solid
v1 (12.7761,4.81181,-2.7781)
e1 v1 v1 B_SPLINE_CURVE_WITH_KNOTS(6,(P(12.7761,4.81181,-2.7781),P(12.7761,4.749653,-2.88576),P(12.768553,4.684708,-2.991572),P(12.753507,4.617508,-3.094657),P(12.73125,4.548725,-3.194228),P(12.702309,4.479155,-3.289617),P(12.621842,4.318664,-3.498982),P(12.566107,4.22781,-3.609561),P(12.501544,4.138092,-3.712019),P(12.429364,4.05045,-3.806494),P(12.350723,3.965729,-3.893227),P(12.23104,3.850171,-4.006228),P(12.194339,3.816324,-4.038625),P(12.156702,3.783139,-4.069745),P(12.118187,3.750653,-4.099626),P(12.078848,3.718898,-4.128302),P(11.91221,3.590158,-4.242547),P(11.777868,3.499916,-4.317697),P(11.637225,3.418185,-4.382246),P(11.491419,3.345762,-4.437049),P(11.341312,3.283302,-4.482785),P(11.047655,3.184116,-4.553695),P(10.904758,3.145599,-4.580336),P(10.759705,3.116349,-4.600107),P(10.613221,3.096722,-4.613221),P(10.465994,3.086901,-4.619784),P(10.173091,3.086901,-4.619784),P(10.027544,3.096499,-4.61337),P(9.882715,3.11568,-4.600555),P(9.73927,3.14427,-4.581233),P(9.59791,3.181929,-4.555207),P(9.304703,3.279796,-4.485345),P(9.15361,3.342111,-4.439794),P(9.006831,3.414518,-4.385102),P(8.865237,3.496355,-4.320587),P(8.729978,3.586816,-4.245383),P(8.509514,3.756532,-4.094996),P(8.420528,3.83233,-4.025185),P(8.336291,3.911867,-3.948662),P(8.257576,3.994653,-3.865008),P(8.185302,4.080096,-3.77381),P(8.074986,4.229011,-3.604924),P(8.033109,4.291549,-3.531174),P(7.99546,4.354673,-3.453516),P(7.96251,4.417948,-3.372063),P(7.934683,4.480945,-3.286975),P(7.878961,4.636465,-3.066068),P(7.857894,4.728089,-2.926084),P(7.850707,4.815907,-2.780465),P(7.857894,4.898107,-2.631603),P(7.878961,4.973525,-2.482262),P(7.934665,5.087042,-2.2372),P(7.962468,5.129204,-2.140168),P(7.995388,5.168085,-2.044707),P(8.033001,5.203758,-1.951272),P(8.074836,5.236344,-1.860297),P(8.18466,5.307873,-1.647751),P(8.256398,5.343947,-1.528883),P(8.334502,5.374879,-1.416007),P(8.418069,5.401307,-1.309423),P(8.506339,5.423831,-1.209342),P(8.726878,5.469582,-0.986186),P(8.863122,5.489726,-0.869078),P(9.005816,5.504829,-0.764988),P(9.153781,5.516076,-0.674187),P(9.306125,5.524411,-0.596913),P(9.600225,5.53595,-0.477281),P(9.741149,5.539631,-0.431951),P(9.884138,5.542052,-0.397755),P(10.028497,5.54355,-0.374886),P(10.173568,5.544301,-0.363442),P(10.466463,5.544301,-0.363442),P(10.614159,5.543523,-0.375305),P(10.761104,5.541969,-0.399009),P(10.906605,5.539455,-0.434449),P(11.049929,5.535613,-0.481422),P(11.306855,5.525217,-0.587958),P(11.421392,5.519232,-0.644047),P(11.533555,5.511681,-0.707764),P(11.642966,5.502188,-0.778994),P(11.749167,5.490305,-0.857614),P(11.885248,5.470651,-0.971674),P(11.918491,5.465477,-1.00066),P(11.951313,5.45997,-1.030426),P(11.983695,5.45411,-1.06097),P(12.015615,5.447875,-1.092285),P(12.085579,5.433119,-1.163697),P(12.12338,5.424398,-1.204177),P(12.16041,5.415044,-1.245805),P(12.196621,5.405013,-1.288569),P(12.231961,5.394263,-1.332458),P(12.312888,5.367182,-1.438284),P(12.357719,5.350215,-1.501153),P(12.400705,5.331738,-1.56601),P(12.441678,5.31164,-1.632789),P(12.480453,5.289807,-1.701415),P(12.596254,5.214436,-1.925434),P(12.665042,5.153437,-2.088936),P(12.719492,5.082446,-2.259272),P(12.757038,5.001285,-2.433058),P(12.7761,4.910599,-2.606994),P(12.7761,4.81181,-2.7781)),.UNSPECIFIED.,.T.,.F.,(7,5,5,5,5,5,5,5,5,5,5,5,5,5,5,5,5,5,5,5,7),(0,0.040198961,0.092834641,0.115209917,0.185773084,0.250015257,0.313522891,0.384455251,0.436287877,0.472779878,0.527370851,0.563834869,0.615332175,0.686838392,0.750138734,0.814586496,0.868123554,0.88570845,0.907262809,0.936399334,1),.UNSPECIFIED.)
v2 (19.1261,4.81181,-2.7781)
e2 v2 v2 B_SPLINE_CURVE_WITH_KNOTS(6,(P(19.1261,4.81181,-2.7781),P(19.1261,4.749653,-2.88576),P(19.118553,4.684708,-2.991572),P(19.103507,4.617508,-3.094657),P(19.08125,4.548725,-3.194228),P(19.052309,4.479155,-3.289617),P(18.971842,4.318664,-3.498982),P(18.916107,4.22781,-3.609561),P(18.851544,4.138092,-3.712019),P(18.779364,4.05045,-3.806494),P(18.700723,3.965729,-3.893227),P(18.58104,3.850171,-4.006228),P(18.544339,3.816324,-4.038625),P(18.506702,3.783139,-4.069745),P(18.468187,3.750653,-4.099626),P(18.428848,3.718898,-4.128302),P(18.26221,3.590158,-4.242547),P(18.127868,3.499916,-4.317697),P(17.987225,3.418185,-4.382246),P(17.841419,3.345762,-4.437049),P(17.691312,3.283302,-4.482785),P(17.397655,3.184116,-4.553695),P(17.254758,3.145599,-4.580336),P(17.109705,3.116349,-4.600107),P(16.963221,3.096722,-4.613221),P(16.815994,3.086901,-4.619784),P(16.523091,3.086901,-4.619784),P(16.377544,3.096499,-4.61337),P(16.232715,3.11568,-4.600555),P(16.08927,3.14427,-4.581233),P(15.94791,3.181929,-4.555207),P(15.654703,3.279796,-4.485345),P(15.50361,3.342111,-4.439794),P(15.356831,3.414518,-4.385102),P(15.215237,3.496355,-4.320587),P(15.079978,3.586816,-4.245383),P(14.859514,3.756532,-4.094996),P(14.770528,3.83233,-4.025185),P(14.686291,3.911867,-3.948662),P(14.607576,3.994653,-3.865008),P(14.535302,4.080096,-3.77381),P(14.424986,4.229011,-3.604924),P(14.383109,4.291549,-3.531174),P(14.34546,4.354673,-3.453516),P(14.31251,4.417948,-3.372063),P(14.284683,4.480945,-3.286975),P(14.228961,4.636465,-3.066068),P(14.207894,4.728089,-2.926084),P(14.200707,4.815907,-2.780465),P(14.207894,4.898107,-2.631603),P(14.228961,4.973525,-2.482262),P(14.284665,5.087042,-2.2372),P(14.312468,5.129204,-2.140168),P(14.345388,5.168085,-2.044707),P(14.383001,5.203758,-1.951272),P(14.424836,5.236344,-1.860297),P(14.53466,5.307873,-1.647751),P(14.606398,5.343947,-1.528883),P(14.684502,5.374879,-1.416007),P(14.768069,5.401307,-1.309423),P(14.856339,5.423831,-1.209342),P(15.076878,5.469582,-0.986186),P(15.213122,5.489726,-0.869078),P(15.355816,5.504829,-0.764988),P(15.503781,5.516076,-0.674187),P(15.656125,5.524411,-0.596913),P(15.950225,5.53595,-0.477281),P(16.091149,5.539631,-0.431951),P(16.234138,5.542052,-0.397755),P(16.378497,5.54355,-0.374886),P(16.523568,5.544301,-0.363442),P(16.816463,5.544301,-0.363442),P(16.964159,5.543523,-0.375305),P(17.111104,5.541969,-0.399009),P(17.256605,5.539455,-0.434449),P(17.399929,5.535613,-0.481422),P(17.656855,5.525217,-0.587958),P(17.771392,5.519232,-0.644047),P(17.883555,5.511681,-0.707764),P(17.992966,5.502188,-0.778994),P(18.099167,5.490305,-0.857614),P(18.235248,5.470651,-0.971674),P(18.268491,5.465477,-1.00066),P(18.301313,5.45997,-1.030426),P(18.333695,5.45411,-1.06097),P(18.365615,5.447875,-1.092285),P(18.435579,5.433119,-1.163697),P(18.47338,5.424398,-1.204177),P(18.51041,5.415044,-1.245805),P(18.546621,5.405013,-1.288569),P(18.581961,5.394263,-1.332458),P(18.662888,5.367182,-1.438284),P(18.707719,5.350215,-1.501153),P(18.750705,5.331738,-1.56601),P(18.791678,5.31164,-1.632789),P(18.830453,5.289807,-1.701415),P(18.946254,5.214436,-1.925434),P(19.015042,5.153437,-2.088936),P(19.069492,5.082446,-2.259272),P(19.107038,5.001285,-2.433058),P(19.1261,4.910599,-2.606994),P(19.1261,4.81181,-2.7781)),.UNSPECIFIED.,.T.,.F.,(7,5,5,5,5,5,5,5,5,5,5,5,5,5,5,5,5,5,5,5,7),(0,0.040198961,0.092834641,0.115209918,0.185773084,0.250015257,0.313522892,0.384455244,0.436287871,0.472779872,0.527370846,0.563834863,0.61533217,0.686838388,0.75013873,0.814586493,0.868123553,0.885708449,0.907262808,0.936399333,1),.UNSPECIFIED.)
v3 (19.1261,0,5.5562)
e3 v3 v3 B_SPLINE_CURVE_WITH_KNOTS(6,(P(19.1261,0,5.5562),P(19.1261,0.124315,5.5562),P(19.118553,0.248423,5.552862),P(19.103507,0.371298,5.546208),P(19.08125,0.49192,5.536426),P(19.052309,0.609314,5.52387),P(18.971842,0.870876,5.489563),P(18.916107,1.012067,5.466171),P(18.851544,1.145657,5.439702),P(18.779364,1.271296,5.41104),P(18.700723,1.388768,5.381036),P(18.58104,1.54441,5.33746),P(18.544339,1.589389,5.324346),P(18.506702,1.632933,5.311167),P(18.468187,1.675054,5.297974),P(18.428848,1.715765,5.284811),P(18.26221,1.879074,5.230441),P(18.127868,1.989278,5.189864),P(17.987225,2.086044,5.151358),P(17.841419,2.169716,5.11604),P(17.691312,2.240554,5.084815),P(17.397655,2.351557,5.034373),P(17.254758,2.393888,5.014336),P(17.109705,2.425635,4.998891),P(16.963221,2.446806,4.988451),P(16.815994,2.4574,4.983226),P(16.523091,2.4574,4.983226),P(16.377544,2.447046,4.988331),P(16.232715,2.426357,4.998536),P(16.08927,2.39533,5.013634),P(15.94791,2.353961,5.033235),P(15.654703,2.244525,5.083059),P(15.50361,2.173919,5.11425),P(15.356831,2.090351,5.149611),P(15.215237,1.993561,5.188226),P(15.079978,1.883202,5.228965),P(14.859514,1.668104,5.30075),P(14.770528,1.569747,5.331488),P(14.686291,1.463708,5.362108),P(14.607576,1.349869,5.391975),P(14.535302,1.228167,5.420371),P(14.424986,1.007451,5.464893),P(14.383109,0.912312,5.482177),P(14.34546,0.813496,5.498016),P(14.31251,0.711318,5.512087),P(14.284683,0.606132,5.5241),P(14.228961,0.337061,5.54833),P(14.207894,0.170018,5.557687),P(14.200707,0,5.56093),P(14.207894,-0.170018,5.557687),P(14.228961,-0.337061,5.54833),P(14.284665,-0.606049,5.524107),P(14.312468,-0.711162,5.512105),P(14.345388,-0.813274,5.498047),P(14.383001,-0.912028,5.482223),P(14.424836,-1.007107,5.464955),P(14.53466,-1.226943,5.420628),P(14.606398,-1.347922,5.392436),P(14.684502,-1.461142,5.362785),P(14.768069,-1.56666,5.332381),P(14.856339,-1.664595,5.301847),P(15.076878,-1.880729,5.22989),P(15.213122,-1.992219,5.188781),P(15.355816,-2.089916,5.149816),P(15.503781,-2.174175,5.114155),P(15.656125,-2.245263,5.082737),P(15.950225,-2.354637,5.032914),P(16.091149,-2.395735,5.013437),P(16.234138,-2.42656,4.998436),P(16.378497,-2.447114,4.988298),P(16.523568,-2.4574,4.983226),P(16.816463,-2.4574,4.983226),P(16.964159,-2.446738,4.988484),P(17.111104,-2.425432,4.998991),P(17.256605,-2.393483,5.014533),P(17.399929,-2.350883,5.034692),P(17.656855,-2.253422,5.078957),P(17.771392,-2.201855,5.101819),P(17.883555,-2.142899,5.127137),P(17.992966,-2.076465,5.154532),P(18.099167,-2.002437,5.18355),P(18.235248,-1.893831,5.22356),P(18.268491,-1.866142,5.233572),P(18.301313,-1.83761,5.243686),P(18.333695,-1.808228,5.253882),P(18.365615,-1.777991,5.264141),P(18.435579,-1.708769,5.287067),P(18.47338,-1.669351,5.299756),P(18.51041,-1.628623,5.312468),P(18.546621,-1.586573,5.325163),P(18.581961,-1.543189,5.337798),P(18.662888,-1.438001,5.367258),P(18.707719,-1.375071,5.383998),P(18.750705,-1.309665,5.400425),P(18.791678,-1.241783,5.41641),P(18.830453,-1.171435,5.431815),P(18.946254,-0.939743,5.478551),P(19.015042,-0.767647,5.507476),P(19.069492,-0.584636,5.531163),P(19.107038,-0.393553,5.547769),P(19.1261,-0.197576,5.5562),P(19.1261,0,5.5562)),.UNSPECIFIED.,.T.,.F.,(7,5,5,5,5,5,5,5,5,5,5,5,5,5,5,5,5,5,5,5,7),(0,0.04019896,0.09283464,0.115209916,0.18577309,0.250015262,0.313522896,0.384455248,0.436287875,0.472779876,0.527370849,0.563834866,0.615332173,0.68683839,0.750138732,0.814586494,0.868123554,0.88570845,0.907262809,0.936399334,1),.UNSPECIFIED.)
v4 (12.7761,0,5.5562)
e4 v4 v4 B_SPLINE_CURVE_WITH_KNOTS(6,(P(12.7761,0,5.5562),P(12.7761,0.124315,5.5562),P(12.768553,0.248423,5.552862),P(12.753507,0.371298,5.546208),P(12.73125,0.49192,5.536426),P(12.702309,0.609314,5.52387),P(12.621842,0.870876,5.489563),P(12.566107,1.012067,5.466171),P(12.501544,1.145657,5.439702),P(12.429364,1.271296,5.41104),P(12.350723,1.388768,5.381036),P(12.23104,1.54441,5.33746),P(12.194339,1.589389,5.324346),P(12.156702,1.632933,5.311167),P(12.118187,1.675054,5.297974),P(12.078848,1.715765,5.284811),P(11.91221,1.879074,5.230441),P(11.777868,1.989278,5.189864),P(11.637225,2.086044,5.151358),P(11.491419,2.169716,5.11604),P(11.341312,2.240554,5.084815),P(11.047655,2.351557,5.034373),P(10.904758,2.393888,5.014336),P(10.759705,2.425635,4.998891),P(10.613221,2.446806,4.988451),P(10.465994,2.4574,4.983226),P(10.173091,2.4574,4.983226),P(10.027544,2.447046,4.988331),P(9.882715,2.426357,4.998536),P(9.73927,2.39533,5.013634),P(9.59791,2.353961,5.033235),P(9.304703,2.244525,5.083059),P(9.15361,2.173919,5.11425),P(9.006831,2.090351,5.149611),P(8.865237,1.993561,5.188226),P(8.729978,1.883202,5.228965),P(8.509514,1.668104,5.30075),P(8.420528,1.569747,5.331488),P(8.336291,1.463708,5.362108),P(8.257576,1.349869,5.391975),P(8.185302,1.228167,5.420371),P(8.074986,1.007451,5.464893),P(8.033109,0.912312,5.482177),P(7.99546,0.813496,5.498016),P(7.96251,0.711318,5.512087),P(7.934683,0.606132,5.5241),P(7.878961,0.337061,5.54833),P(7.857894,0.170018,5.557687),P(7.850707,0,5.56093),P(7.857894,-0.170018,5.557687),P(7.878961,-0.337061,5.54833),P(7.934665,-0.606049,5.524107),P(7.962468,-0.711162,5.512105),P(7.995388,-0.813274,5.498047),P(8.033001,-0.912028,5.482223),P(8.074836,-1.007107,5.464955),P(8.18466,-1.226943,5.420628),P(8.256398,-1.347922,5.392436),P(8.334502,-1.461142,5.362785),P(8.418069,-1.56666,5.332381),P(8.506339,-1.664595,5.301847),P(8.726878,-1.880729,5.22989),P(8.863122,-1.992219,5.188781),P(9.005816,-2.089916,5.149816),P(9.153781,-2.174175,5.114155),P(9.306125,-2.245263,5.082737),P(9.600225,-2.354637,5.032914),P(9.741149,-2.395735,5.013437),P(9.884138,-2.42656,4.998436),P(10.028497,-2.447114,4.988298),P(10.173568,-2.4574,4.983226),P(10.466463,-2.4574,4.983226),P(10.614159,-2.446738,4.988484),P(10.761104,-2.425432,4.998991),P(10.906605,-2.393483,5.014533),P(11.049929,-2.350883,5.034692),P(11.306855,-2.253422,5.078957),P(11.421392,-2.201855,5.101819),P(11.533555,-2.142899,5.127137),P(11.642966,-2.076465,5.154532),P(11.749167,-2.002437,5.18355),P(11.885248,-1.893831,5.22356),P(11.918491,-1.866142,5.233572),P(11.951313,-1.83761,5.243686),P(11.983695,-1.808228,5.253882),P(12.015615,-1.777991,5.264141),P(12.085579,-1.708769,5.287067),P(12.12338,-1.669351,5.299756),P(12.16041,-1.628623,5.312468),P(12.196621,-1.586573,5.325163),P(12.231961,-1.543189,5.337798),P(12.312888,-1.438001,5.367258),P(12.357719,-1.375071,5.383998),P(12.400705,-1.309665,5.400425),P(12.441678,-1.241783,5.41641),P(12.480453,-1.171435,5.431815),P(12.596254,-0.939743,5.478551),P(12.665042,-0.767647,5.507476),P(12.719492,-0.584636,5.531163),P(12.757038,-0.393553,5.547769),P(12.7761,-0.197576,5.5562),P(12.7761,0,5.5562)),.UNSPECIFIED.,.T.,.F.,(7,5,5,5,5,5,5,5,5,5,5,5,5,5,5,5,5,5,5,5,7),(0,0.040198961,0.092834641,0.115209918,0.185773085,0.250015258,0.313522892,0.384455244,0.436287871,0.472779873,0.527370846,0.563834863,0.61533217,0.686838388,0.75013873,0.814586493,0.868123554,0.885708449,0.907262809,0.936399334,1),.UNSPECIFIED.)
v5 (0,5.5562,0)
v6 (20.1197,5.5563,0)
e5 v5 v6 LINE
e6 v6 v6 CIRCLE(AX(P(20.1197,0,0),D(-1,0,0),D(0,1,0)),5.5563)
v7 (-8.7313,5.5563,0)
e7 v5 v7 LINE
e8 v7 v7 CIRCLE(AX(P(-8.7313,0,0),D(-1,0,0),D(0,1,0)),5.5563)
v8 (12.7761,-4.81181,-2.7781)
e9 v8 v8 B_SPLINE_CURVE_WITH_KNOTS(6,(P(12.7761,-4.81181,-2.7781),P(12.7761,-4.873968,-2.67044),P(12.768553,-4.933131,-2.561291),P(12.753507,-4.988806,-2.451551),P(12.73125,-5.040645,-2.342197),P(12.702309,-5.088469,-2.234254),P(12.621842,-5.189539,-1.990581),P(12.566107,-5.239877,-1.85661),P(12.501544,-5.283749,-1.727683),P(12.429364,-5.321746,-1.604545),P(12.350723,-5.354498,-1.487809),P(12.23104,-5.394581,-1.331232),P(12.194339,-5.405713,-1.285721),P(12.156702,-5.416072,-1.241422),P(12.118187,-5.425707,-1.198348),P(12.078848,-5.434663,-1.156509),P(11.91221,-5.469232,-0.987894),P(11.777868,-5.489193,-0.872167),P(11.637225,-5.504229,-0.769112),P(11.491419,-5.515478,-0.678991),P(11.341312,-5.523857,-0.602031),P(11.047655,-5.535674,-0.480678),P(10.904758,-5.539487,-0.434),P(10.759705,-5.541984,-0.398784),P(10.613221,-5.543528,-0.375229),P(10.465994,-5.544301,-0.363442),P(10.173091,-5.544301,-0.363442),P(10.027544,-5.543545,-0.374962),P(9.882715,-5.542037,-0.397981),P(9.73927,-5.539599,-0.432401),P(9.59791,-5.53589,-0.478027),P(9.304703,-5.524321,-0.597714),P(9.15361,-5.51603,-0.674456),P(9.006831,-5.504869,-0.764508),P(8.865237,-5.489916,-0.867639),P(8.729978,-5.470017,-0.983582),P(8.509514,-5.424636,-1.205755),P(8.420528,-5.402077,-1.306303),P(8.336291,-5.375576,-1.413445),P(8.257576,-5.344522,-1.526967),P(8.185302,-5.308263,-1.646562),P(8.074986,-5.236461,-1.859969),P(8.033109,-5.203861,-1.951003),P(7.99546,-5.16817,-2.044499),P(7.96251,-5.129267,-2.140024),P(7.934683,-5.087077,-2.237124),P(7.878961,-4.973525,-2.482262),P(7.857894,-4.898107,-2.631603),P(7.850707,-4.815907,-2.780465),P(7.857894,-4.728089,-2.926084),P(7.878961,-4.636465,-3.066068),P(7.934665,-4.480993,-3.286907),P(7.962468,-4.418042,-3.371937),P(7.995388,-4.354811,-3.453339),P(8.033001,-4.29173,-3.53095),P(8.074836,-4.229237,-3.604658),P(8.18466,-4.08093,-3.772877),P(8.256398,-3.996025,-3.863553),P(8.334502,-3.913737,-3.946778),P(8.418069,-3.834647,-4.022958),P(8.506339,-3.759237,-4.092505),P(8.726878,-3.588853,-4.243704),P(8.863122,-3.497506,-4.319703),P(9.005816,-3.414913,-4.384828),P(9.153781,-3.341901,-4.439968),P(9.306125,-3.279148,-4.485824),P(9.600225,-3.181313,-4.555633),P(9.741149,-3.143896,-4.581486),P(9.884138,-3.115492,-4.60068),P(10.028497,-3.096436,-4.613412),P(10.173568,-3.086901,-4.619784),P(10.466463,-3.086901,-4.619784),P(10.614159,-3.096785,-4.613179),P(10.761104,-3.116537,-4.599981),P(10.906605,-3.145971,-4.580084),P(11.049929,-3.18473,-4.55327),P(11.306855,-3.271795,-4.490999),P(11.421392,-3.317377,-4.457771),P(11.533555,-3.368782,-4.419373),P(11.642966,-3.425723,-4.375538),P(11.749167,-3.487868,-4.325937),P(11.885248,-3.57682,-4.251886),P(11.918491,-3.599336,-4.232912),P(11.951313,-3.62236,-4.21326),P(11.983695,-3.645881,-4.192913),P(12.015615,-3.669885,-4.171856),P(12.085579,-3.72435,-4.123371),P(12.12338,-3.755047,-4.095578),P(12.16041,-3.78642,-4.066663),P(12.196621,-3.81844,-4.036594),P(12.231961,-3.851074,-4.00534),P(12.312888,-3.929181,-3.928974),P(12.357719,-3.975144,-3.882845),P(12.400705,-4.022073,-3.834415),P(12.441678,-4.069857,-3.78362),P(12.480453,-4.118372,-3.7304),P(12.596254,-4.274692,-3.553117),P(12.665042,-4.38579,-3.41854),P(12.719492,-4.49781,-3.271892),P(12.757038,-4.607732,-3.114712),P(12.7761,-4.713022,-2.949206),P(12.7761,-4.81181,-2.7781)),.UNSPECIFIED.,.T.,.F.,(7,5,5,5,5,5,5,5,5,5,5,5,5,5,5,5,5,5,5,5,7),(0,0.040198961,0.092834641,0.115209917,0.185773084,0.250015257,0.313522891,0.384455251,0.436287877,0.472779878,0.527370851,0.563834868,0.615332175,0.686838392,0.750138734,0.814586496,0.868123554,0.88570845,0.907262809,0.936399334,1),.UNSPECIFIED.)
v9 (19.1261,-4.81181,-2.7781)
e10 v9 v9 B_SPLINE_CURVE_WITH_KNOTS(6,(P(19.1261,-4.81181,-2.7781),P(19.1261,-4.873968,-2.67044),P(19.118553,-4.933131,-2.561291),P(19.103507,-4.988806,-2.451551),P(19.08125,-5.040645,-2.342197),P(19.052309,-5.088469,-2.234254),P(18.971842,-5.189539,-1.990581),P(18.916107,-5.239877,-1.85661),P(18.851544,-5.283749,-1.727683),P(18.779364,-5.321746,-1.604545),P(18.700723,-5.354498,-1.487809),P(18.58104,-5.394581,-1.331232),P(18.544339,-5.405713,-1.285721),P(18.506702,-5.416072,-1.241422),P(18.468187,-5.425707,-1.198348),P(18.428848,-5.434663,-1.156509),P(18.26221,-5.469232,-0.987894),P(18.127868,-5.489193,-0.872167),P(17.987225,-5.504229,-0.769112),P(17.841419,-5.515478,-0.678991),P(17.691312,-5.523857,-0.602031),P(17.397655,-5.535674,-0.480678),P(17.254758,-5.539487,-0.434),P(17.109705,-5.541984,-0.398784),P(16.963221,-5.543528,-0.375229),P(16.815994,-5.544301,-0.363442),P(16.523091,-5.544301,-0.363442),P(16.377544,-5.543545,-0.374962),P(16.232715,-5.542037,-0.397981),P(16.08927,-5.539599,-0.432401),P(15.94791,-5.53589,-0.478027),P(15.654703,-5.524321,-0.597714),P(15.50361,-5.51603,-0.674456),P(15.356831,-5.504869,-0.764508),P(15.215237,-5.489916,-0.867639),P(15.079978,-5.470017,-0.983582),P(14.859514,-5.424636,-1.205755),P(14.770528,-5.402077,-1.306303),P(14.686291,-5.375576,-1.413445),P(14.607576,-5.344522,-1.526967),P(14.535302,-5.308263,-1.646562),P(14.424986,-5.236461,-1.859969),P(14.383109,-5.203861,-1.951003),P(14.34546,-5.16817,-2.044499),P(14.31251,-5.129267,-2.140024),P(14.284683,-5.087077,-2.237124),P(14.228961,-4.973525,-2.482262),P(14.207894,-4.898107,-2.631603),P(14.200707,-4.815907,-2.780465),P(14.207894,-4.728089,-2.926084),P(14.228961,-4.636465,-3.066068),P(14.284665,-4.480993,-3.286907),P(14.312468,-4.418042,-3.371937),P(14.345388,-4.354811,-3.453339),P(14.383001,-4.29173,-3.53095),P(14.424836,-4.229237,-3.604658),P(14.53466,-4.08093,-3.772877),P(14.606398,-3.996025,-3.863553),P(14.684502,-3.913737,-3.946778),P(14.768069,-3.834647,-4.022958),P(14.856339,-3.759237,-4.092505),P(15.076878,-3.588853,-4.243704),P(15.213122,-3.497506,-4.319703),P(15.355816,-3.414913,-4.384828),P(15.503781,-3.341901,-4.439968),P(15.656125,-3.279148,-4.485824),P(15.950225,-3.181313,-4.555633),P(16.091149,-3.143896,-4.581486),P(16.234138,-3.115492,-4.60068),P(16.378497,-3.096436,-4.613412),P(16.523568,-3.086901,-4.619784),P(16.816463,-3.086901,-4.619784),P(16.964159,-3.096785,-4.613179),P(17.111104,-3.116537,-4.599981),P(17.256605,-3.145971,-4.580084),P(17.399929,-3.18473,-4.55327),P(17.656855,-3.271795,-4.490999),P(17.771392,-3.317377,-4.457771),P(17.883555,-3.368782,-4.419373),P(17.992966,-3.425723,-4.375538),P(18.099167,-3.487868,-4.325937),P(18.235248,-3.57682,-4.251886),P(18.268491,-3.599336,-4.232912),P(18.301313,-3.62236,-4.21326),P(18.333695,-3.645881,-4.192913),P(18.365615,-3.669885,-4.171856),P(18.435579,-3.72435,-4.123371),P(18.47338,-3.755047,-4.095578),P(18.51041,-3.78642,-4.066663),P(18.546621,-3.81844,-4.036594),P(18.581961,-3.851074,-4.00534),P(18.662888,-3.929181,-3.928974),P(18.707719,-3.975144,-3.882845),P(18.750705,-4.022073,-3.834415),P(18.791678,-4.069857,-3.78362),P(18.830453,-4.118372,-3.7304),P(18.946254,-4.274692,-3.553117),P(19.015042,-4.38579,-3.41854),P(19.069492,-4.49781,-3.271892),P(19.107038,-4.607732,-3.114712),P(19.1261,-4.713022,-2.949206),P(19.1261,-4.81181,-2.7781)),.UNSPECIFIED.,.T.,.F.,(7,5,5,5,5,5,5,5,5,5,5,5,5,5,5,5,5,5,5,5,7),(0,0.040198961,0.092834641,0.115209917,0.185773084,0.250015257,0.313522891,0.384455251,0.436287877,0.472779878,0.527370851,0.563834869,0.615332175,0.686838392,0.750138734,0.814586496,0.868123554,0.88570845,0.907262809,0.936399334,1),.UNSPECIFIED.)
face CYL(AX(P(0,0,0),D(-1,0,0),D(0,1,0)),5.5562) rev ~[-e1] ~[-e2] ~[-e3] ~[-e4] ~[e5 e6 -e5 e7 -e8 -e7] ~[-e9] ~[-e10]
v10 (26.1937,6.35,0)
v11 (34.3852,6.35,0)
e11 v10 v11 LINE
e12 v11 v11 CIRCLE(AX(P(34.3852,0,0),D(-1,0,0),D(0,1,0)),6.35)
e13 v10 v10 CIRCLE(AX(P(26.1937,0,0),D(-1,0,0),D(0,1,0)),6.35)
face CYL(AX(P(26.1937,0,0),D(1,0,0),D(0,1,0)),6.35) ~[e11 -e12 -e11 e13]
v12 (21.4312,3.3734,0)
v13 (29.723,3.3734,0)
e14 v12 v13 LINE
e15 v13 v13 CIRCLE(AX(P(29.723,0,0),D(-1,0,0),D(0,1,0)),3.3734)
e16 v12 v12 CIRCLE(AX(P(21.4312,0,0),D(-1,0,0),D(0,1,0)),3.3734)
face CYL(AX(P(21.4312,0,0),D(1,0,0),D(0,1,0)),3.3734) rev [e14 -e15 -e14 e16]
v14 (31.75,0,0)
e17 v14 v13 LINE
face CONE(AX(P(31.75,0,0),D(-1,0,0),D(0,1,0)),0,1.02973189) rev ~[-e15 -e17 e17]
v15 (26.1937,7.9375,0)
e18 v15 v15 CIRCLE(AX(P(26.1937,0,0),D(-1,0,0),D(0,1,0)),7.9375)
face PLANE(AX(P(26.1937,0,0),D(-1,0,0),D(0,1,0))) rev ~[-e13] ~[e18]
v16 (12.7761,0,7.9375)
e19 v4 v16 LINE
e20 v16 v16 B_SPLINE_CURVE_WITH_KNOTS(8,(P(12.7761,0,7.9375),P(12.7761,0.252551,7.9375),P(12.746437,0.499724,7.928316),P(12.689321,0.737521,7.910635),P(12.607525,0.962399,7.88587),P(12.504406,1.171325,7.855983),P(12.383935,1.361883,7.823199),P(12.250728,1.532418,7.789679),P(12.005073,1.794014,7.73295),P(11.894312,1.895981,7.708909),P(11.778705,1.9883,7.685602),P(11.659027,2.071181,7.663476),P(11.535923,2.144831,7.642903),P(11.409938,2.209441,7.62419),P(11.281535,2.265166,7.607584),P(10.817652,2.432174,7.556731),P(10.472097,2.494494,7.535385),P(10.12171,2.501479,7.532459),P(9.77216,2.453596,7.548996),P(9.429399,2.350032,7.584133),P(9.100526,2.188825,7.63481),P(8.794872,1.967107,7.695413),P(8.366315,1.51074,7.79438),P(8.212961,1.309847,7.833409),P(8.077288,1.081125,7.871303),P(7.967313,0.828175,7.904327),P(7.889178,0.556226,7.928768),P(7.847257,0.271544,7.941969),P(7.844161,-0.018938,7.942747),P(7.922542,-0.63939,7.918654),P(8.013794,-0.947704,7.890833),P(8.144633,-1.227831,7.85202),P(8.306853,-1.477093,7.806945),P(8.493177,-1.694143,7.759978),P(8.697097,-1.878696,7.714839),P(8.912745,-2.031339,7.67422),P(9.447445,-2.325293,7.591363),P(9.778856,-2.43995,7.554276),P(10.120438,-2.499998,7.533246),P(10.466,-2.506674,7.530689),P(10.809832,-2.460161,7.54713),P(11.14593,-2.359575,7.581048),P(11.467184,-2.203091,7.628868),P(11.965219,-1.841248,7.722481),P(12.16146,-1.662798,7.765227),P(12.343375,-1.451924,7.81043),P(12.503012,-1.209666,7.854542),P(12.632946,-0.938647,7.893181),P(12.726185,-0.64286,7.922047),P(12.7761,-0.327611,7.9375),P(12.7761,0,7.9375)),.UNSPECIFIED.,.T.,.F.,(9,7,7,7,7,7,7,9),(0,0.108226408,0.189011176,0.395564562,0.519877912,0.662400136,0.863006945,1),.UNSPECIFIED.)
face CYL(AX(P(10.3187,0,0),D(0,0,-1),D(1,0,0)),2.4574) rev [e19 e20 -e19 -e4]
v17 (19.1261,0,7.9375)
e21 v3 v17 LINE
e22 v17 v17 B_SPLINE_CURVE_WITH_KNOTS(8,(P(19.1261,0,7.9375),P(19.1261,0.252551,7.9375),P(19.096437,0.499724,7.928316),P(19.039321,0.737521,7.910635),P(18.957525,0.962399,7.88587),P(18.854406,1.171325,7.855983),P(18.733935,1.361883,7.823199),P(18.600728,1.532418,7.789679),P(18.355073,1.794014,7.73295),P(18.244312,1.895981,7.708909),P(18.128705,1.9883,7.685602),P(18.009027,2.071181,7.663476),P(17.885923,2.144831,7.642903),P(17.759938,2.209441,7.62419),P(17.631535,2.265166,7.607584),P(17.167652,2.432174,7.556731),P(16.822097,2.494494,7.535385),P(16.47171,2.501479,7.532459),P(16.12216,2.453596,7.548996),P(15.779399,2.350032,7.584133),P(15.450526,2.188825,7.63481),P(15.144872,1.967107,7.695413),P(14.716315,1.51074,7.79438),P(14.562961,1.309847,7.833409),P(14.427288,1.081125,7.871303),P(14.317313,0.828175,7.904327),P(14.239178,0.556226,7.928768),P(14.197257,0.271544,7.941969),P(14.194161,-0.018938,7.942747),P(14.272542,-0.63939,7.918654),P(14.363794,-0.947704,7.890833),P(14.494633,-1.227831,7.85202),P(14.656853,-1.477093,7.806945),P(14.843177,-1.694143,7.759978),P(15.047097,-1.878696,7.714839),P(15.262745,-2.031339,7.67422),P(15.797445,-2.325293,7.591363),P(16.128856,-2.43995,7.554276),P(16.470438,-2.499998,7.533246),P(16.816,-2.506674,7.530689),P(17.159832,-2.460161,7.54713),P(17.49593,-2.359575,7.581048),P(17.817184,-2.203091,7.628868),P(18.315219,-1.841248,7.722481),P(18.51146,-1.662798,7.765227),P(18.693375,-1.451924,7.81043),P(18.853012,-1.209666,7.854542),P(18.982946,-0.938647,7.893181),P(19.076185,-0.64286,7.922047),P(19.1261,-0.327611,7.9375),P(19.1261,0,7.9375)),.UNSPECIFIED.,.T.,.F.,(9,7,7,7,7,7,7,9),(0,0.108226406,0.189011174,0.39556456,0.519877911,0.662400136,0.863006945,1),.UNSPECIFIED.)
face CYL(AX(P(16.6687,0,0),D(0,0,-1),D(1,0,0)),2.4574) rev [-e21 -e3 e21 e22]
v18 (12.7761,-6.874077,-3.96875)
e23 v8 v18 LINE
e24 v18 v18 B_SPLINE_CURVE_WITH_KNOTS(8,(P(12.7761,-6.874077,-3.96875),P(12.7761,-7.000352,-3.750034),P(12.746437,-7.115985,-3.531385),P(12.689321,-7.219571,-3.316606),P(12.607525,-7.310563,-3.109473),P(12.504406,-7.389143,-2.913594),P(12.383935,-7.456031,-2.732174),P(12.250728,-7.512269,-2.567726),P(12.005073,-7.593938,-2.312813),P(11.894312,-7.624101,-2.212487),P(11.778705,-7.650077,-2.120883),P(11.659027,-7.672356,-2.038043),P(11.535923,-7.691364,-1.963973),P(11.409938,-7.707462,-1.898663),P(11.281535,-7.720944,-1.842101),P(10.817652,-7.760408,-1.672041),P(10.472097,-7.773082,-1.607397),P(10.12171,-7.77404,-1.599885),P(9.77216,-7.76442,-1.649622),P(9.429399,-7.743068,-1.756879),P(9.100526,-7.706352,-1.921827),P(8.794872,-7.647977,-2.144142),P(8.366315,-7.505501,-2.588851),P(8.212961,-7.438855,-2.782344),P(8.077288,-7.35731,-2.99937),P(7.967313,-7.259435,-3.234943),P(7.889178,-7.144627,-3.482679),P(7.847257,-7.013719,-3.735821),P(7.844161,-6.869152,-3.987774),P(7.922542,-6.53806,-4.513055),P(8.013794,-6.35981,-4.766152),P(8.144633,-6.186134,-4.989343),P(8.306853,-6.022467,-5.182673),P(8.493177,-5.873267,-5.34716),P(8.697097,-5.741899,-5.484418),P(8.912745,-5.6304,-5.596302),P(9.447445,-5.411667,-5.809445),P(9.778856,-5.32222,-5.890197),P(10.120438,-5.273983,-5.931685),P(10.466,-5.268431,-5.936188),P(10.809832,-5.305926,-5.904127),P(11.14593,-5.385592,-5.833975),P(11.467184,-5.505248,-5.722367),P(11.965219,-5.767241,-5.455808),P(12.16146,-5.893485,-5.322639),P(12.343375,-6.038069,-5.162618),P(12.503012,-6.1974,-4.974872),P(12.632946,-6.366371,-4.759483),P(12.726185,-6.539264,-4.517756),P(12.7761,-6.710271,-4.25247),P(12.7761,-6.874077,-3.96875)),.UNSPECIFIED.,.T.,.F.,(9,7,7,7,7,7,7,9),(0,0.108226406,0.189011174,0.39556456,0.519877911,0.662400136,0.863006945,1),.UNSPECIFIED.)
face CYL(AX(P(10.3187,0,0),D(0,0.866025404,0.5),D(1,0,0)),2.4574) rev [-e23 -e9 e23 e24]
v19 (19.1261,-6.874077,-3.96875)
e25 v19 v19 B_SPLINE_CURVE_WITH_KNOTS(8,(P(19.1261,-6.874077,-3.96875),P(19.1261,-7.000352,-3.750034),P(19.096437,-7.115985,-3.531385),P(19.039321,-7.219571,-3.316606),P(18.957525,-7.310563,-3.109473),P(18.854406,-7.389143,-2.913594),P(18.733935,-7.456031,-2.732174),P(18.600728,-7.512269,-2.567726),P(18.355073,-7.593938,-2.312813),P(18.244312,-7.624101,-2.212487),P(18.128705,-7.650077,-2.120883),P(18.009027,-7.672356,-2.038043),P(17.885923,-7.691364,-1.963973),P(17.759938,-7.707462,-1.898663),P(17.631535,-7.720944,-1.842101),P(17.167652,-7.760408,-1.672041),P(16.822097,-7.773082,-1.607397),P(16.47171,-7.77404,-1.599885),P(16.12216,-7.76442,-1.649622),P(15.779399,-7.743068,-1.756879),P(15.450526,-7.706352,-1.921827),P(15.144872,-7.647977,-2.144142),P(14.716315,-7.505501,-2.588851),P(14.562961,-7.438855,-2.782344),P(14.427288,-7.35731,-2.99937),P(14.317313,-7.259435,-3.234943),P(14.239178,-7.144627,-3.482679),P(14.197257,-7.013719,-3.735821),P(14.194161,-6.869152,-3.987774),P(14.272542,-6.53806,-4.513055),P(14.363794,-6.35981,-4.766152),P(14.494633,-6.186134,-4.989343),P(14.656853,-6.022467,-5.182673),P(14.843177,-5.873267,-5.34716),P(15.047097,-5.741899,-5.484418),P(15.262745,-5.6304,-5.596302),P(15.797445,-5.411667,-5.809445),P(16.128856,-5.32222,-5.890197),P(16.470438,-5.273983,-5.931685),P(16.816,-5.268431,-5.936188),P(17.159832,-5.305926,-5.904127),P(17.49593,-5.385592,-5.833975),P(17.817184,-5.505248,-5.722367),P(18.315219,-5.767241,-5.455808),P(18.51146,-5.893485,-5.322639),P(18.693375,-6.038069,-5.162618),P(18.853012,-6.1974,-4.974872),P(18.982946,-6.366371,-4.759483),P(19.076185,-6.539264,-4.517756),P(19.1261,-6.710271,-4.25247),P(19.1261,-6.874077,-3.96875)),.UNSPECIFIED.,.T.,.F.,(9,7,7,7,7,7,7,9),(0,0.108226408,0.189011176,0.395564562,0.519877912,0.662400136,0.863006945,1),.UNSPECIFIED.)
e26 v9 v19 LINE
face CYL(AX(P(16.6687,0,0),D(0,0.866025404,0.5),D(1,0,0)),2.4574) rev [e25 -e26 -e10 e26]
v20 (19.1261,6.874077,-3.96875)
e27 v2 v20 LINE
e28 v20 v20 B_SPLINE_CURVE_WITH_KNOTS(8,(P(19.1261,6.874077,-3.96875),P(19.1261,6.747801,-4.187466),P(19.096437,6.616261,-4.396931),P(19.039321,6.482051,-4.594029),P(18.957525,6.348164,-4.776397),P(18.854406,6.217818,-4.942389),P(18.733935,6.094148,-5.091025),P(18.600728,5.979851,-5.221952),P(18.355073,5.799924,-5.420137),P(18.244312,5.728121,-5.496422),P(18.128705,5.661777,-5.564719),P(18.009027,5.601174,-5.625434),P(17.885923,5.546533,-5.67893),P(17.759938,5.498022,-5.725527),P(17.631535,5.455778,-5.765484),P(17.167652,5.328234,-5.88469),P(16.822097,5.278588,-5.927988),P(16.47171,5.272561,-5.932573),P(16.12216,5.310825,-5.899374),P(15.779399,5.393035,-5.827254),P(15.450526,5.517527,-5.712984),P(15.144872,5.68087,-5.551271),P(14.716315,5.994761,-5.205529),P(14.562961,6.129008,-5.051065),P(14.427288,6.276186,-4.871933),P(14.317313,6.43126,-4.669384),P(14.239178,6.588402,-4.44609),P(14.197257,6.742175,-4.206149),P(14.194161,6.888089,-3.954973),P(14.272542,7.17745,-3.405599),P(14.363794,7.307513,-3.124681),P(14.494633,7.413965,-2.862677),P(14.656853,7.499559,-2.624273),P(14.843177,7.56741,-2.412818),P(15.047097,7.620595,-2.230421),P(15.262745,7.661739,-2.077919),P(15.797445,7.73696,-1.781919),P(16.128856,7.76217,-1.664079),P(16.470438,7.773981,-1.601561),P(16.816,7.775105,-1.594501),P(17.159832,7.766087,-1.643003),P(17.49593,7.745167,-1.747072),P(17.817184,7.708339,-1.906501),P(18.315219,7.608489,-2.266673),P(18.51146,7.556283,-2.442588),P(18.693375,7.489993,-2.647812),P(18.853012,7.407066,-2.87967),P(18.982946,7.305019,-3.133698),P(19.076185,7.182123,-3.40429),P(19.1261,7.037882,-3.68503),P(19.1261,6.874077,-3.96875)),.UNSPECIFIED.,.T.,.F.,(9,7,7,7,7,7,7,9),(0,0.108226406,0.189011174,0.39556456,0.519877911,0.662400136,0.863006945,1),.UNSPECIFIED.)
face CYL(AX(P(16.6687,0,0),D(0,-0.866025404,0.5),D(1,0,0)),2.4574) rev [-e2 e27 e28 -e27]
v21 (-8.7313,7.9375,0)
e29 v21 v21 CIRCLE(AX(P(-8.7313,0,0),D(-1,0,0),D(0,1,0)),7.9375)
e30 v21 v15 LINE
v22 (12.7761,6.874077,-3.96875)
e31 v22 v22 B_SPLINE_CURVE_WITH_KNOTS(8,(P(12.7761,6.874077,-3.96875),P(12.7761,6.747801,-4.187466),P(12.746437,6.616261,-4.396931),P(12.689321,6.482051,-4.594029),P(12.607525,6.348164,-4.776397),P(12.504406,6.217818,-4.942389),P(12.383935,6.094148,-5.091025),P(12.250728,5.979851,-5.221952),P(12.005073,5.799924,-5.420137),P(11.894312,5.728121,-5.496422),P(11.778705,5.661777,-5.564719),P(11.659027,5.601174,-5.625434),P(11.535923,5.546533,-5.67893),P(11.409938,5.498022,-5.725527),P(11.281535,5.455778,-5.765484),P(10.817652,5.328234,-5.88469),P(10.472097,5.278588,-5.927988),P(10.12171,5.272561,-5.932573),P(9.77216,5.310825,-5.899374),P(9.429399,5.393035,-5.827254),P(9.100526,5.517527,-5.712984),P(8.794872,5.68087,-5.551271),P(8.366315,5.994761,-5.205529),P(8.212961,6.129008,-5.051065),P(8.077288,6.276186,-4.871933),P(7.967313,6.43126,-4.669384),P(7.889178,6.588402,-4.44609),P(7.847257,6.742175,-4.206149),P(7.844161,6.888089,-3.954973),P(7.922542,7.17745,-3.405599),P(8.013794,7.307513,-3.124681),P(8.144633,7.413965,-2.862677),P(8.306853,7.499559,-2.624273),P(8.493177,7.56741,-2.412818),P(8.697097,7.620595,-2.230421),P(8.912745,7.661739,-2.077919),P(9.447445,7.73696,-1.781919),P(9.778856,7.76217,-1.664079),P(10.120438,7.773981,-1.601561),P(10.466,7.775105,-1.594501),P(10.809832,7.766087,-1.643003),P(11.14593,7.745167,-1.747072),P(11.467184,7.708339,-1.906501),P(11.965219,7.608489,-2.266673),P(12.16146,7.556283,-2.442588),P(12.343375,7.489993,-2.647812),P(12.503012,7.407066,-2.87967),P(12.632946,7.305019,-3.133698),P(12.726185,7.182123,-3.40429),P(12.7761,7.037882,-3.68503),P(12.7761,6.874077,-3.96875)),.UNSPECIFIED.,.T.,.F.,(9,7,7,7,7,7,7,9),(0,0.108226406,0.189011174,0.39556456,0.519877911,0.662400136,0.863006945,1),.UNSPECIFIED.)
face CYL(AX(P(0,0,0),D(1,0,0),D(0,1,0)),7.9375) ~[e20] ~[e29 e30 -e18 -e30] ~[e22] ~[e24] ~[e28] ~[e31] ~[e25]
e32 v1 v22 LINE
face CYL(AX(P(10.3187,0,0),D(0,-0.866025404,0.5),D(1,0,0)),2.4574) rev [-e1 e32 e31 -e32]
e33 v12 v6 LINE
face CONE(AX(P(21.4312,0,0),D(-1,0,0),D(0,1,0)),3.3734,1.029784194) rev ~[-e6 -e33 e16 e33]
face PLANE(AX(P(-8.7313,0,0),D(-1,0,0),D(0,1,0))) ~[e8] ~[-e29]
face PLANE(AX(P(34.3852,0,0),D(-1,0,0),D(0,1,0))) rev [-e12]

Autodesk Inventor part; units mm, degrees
ref_plane "YZ Plane" through (0, 0, 0) normal (1, 0, 0) x (0, 1, 0)
ref_plane "XZ Plane" through (0, 0, 0) normal (0, 1, 0) x (-1, 0, 0)
ref_plane "XY Plane" through (0, 0, 0) normal (0, 0, 1) x (1, 0, 0)
sketch "Sketch4" plane through (0, 0, 0) normal (0, 0, 1) x (1, 0, 0)
  line L0 (0, 0) -> (0, 5.5562) construction
  line L1 (0, 5.5562) -> (20.1197, 5.5563)
  line L2 (0, 7.9375) -> (26.1937, 7.9375)
  line L3 (26.1937, 7.9375) -> (26.1937, 6.35)
  line L4 (26.1937, 5.5563) -> (26.1937, 0) construction
  line L5 (26.1937, 0) -> (0, 0) construction
  line L6 (26.1937, 6.35) -> (34.3852, 6.35)
  line L7 (26.1937, 0) -> (31.75, 0) construction
  line L8 (34.3852, 0) -> (34.3852, 6.35)
  line L9 (16.6687, 7.9375) -> (16.6687, 0) construction
  circle A0 centre (16.6687, 7.5565) radius 2.3813 construction
  circle A1 centre (16.6687, 5.4928) radius 2.3813 construction
  circle A2 centre (10.3187, 7.5565) radius 2.3813 construction
  circle A3 centre (10.3187, 5.4928) radius 2.3813 construction
  line L10 (10.3187, 7.9375) -> (10.3187, 0) construction
  line L11 (0, 5.1753) -> (26.1938, 5.1753) construction
  line L12 (8.7312, 5.1753) -> (8.7312, 0) construction
  line L13 (5.5562, 5.1753) -> (5.5562, 0) construction
  line L14 (18.2563, 5.1753) -> (18.2562, 0) construction
  line L15 (21.4313, 5.1753) -> (21.4312, 0) construction
  line L16 (0, 3.1115) -> (26.1937, 3.1115) construction
  line L17 (5.5562, 3.1115) -> (8.7312, 5.1753) construction
  line L18 (18.2563, 5.1753) -> (21.4312, 3.1115) construction
  line L19 (11.9062, 5.1753) -> (11.9062, 0) construction
  line L20 (15.0812, 5.1753) -> (15.0812, 0) construction
  line L21 (11.9062, 5.1753) -> (15.0812, 3.1115) construction
  line L22 (21.4312, 3.3734) -> (29.723, 3.3734)
  line L23 (24.6062, 3.3734) -> (24.6062, 0) construction
  line L24 (21.4312, 3.3734) -> (20.1197, 5.5563)
  line L25 (26.1937, 3.1115) -> (30.9562, 3.1115) construction
  line L26 (30.9562, 3.1115) -> (30.9562, 0) construction
  line L27 (31.75, 3.3734) -> (31.75, 0) construction
  line L28 (31.75, 0) -> (29.723, 3.3734)
  line L29 (0, 7.9375) -> (-1.5875, 7.9375) construction
  line L30 (-1.5875, 7.9375) -> (-1.5875, 3.3734) construction
  line L31 (-1.5875, 3.3734) -> (5.5562, 3.3734) construction
  line L32 (0, 5.5562) -> (0, 7.9375)
  line L33 (0, 7.9375) -> (0, 12.7) construction
  line L34 (20.1197, 5.5563) -> (26.1937, 5.5563) construction
  line L35 (29.723, 3.3734) -> (34.3852, 3.3734) construction
  line L36 (26.1937, 6.35) -> (26.1937, 5.5563) construction
  line L37 (31.75, 0) -> (34.3852, 0)
  line L38 (0, 5.5562) -> (-8.7313, 5.5563)
  line L39 (-8.7313, 5.5563) -> (-8.7313, 7.9375)
  line L40 (-8.7313, 7.9375) -> (0, 7.9375)
  line L41 (-8.7313, 6.35) -> (0, 6.35)
  dimension "d16" = 12.7
  dimension "d17" = 5.5563
  dimension "d18" = 7.9375
  dimension "d19" = 26.1938
  dimension "d20" = 8.1915
  dimension "d21" = 6.35
  dimension "d22" = 9.525
  dimension "d23" = 6.35
  dimension "d24" = 0.381
  dimension "d25" = 0.381
  dimension "d26" = 0.0635
  dimension "d27" = 0.0635
  dimension "d28" = 1.5875
  dimension "d29" = 4.7625
  dimension "d30" = 1.5875
  dimension "d31" = 4.7625
  dimension "d32" = 3.1115
  dimension "d33" = 1.5875
  dimension "d34" = 4.7625
  dimension "d35" = 3.3734
  dimension "d36" = 3.175
  dimension "d37" = 31
  dimension "d38" = 9.525
  dimension "d39" = 9.525
  dimension "d40" = 0.7937
  dimension "d41" = 31
  dimension "d42" = 1.5875
  dimension "d43" = 3.3734
  dimension "d49" = 4.7625
  dimension "d63" = 8.7312
  dimension "d64" = 6.35
revolve "Revolution1" add sketch "Sketch4" angle 360 about axis through (26.1937, 0, 0) along (-1, 0, 0)
sketch "Sketch5" plane through (0, 0, 0) normal (0, 0, 1) x (1, 0, 0)
  line L0 (26.1937, -7.9375) -> (26.1937, 7.9375) projected
  line L1 (0, 0) -> (26.1937, 0) construction
  circle A0 centre (16.6687, 0) radius 2.4574
  circle A1 centre (10.3187, 0) radius 2.4574
  dimension "d51" = 4.9149
  dimension "d53" = 6.35
  dimension "d54" = 9.525
  dimension "d55" = 4.9149
extrude "Extrusion4" cut sketch "Sketch5" along normal through all
pattern_circular "Circular Pattern2" count 3 over 360 about axis through (-4.3656, 0, 0) along (1, 0, 0) of "Extrusion4"
ref_plane "Work Plane1" through (16.6687, 0, 0) normal (1, 0, 0) x (0, 0, -1)
ref_plane "Work Plane2" through (10.3187, 0, 0) normal (1, 0, 0) x (0, 0, -1)
equation "\"d17\" = d44"
equation "\"d18\" = d45"
equation "\"d24\" = d46"
equation "\"d25\" = d24"
equation "\"d26\" = d47"
equation "\"d27\" = d26"
equation "\"d32\" = d48"
equation "\"d33\" = d28"
equation "\"d34\" = d29"
equation "\"d39\" = d38"
equation "\"d41\" = d37"
equation "\"d43\" = d35"
equation "\"d55\" = d51"
equation "\"d44\" = 5.55625"
equation "\"d45\" = 7.9375"
equation "\"d46\" = 0.381"
equation "\"d47\" = 0.0635"
equation "\"d48\" = 3.1115"
properties part number "Output SHaft"
